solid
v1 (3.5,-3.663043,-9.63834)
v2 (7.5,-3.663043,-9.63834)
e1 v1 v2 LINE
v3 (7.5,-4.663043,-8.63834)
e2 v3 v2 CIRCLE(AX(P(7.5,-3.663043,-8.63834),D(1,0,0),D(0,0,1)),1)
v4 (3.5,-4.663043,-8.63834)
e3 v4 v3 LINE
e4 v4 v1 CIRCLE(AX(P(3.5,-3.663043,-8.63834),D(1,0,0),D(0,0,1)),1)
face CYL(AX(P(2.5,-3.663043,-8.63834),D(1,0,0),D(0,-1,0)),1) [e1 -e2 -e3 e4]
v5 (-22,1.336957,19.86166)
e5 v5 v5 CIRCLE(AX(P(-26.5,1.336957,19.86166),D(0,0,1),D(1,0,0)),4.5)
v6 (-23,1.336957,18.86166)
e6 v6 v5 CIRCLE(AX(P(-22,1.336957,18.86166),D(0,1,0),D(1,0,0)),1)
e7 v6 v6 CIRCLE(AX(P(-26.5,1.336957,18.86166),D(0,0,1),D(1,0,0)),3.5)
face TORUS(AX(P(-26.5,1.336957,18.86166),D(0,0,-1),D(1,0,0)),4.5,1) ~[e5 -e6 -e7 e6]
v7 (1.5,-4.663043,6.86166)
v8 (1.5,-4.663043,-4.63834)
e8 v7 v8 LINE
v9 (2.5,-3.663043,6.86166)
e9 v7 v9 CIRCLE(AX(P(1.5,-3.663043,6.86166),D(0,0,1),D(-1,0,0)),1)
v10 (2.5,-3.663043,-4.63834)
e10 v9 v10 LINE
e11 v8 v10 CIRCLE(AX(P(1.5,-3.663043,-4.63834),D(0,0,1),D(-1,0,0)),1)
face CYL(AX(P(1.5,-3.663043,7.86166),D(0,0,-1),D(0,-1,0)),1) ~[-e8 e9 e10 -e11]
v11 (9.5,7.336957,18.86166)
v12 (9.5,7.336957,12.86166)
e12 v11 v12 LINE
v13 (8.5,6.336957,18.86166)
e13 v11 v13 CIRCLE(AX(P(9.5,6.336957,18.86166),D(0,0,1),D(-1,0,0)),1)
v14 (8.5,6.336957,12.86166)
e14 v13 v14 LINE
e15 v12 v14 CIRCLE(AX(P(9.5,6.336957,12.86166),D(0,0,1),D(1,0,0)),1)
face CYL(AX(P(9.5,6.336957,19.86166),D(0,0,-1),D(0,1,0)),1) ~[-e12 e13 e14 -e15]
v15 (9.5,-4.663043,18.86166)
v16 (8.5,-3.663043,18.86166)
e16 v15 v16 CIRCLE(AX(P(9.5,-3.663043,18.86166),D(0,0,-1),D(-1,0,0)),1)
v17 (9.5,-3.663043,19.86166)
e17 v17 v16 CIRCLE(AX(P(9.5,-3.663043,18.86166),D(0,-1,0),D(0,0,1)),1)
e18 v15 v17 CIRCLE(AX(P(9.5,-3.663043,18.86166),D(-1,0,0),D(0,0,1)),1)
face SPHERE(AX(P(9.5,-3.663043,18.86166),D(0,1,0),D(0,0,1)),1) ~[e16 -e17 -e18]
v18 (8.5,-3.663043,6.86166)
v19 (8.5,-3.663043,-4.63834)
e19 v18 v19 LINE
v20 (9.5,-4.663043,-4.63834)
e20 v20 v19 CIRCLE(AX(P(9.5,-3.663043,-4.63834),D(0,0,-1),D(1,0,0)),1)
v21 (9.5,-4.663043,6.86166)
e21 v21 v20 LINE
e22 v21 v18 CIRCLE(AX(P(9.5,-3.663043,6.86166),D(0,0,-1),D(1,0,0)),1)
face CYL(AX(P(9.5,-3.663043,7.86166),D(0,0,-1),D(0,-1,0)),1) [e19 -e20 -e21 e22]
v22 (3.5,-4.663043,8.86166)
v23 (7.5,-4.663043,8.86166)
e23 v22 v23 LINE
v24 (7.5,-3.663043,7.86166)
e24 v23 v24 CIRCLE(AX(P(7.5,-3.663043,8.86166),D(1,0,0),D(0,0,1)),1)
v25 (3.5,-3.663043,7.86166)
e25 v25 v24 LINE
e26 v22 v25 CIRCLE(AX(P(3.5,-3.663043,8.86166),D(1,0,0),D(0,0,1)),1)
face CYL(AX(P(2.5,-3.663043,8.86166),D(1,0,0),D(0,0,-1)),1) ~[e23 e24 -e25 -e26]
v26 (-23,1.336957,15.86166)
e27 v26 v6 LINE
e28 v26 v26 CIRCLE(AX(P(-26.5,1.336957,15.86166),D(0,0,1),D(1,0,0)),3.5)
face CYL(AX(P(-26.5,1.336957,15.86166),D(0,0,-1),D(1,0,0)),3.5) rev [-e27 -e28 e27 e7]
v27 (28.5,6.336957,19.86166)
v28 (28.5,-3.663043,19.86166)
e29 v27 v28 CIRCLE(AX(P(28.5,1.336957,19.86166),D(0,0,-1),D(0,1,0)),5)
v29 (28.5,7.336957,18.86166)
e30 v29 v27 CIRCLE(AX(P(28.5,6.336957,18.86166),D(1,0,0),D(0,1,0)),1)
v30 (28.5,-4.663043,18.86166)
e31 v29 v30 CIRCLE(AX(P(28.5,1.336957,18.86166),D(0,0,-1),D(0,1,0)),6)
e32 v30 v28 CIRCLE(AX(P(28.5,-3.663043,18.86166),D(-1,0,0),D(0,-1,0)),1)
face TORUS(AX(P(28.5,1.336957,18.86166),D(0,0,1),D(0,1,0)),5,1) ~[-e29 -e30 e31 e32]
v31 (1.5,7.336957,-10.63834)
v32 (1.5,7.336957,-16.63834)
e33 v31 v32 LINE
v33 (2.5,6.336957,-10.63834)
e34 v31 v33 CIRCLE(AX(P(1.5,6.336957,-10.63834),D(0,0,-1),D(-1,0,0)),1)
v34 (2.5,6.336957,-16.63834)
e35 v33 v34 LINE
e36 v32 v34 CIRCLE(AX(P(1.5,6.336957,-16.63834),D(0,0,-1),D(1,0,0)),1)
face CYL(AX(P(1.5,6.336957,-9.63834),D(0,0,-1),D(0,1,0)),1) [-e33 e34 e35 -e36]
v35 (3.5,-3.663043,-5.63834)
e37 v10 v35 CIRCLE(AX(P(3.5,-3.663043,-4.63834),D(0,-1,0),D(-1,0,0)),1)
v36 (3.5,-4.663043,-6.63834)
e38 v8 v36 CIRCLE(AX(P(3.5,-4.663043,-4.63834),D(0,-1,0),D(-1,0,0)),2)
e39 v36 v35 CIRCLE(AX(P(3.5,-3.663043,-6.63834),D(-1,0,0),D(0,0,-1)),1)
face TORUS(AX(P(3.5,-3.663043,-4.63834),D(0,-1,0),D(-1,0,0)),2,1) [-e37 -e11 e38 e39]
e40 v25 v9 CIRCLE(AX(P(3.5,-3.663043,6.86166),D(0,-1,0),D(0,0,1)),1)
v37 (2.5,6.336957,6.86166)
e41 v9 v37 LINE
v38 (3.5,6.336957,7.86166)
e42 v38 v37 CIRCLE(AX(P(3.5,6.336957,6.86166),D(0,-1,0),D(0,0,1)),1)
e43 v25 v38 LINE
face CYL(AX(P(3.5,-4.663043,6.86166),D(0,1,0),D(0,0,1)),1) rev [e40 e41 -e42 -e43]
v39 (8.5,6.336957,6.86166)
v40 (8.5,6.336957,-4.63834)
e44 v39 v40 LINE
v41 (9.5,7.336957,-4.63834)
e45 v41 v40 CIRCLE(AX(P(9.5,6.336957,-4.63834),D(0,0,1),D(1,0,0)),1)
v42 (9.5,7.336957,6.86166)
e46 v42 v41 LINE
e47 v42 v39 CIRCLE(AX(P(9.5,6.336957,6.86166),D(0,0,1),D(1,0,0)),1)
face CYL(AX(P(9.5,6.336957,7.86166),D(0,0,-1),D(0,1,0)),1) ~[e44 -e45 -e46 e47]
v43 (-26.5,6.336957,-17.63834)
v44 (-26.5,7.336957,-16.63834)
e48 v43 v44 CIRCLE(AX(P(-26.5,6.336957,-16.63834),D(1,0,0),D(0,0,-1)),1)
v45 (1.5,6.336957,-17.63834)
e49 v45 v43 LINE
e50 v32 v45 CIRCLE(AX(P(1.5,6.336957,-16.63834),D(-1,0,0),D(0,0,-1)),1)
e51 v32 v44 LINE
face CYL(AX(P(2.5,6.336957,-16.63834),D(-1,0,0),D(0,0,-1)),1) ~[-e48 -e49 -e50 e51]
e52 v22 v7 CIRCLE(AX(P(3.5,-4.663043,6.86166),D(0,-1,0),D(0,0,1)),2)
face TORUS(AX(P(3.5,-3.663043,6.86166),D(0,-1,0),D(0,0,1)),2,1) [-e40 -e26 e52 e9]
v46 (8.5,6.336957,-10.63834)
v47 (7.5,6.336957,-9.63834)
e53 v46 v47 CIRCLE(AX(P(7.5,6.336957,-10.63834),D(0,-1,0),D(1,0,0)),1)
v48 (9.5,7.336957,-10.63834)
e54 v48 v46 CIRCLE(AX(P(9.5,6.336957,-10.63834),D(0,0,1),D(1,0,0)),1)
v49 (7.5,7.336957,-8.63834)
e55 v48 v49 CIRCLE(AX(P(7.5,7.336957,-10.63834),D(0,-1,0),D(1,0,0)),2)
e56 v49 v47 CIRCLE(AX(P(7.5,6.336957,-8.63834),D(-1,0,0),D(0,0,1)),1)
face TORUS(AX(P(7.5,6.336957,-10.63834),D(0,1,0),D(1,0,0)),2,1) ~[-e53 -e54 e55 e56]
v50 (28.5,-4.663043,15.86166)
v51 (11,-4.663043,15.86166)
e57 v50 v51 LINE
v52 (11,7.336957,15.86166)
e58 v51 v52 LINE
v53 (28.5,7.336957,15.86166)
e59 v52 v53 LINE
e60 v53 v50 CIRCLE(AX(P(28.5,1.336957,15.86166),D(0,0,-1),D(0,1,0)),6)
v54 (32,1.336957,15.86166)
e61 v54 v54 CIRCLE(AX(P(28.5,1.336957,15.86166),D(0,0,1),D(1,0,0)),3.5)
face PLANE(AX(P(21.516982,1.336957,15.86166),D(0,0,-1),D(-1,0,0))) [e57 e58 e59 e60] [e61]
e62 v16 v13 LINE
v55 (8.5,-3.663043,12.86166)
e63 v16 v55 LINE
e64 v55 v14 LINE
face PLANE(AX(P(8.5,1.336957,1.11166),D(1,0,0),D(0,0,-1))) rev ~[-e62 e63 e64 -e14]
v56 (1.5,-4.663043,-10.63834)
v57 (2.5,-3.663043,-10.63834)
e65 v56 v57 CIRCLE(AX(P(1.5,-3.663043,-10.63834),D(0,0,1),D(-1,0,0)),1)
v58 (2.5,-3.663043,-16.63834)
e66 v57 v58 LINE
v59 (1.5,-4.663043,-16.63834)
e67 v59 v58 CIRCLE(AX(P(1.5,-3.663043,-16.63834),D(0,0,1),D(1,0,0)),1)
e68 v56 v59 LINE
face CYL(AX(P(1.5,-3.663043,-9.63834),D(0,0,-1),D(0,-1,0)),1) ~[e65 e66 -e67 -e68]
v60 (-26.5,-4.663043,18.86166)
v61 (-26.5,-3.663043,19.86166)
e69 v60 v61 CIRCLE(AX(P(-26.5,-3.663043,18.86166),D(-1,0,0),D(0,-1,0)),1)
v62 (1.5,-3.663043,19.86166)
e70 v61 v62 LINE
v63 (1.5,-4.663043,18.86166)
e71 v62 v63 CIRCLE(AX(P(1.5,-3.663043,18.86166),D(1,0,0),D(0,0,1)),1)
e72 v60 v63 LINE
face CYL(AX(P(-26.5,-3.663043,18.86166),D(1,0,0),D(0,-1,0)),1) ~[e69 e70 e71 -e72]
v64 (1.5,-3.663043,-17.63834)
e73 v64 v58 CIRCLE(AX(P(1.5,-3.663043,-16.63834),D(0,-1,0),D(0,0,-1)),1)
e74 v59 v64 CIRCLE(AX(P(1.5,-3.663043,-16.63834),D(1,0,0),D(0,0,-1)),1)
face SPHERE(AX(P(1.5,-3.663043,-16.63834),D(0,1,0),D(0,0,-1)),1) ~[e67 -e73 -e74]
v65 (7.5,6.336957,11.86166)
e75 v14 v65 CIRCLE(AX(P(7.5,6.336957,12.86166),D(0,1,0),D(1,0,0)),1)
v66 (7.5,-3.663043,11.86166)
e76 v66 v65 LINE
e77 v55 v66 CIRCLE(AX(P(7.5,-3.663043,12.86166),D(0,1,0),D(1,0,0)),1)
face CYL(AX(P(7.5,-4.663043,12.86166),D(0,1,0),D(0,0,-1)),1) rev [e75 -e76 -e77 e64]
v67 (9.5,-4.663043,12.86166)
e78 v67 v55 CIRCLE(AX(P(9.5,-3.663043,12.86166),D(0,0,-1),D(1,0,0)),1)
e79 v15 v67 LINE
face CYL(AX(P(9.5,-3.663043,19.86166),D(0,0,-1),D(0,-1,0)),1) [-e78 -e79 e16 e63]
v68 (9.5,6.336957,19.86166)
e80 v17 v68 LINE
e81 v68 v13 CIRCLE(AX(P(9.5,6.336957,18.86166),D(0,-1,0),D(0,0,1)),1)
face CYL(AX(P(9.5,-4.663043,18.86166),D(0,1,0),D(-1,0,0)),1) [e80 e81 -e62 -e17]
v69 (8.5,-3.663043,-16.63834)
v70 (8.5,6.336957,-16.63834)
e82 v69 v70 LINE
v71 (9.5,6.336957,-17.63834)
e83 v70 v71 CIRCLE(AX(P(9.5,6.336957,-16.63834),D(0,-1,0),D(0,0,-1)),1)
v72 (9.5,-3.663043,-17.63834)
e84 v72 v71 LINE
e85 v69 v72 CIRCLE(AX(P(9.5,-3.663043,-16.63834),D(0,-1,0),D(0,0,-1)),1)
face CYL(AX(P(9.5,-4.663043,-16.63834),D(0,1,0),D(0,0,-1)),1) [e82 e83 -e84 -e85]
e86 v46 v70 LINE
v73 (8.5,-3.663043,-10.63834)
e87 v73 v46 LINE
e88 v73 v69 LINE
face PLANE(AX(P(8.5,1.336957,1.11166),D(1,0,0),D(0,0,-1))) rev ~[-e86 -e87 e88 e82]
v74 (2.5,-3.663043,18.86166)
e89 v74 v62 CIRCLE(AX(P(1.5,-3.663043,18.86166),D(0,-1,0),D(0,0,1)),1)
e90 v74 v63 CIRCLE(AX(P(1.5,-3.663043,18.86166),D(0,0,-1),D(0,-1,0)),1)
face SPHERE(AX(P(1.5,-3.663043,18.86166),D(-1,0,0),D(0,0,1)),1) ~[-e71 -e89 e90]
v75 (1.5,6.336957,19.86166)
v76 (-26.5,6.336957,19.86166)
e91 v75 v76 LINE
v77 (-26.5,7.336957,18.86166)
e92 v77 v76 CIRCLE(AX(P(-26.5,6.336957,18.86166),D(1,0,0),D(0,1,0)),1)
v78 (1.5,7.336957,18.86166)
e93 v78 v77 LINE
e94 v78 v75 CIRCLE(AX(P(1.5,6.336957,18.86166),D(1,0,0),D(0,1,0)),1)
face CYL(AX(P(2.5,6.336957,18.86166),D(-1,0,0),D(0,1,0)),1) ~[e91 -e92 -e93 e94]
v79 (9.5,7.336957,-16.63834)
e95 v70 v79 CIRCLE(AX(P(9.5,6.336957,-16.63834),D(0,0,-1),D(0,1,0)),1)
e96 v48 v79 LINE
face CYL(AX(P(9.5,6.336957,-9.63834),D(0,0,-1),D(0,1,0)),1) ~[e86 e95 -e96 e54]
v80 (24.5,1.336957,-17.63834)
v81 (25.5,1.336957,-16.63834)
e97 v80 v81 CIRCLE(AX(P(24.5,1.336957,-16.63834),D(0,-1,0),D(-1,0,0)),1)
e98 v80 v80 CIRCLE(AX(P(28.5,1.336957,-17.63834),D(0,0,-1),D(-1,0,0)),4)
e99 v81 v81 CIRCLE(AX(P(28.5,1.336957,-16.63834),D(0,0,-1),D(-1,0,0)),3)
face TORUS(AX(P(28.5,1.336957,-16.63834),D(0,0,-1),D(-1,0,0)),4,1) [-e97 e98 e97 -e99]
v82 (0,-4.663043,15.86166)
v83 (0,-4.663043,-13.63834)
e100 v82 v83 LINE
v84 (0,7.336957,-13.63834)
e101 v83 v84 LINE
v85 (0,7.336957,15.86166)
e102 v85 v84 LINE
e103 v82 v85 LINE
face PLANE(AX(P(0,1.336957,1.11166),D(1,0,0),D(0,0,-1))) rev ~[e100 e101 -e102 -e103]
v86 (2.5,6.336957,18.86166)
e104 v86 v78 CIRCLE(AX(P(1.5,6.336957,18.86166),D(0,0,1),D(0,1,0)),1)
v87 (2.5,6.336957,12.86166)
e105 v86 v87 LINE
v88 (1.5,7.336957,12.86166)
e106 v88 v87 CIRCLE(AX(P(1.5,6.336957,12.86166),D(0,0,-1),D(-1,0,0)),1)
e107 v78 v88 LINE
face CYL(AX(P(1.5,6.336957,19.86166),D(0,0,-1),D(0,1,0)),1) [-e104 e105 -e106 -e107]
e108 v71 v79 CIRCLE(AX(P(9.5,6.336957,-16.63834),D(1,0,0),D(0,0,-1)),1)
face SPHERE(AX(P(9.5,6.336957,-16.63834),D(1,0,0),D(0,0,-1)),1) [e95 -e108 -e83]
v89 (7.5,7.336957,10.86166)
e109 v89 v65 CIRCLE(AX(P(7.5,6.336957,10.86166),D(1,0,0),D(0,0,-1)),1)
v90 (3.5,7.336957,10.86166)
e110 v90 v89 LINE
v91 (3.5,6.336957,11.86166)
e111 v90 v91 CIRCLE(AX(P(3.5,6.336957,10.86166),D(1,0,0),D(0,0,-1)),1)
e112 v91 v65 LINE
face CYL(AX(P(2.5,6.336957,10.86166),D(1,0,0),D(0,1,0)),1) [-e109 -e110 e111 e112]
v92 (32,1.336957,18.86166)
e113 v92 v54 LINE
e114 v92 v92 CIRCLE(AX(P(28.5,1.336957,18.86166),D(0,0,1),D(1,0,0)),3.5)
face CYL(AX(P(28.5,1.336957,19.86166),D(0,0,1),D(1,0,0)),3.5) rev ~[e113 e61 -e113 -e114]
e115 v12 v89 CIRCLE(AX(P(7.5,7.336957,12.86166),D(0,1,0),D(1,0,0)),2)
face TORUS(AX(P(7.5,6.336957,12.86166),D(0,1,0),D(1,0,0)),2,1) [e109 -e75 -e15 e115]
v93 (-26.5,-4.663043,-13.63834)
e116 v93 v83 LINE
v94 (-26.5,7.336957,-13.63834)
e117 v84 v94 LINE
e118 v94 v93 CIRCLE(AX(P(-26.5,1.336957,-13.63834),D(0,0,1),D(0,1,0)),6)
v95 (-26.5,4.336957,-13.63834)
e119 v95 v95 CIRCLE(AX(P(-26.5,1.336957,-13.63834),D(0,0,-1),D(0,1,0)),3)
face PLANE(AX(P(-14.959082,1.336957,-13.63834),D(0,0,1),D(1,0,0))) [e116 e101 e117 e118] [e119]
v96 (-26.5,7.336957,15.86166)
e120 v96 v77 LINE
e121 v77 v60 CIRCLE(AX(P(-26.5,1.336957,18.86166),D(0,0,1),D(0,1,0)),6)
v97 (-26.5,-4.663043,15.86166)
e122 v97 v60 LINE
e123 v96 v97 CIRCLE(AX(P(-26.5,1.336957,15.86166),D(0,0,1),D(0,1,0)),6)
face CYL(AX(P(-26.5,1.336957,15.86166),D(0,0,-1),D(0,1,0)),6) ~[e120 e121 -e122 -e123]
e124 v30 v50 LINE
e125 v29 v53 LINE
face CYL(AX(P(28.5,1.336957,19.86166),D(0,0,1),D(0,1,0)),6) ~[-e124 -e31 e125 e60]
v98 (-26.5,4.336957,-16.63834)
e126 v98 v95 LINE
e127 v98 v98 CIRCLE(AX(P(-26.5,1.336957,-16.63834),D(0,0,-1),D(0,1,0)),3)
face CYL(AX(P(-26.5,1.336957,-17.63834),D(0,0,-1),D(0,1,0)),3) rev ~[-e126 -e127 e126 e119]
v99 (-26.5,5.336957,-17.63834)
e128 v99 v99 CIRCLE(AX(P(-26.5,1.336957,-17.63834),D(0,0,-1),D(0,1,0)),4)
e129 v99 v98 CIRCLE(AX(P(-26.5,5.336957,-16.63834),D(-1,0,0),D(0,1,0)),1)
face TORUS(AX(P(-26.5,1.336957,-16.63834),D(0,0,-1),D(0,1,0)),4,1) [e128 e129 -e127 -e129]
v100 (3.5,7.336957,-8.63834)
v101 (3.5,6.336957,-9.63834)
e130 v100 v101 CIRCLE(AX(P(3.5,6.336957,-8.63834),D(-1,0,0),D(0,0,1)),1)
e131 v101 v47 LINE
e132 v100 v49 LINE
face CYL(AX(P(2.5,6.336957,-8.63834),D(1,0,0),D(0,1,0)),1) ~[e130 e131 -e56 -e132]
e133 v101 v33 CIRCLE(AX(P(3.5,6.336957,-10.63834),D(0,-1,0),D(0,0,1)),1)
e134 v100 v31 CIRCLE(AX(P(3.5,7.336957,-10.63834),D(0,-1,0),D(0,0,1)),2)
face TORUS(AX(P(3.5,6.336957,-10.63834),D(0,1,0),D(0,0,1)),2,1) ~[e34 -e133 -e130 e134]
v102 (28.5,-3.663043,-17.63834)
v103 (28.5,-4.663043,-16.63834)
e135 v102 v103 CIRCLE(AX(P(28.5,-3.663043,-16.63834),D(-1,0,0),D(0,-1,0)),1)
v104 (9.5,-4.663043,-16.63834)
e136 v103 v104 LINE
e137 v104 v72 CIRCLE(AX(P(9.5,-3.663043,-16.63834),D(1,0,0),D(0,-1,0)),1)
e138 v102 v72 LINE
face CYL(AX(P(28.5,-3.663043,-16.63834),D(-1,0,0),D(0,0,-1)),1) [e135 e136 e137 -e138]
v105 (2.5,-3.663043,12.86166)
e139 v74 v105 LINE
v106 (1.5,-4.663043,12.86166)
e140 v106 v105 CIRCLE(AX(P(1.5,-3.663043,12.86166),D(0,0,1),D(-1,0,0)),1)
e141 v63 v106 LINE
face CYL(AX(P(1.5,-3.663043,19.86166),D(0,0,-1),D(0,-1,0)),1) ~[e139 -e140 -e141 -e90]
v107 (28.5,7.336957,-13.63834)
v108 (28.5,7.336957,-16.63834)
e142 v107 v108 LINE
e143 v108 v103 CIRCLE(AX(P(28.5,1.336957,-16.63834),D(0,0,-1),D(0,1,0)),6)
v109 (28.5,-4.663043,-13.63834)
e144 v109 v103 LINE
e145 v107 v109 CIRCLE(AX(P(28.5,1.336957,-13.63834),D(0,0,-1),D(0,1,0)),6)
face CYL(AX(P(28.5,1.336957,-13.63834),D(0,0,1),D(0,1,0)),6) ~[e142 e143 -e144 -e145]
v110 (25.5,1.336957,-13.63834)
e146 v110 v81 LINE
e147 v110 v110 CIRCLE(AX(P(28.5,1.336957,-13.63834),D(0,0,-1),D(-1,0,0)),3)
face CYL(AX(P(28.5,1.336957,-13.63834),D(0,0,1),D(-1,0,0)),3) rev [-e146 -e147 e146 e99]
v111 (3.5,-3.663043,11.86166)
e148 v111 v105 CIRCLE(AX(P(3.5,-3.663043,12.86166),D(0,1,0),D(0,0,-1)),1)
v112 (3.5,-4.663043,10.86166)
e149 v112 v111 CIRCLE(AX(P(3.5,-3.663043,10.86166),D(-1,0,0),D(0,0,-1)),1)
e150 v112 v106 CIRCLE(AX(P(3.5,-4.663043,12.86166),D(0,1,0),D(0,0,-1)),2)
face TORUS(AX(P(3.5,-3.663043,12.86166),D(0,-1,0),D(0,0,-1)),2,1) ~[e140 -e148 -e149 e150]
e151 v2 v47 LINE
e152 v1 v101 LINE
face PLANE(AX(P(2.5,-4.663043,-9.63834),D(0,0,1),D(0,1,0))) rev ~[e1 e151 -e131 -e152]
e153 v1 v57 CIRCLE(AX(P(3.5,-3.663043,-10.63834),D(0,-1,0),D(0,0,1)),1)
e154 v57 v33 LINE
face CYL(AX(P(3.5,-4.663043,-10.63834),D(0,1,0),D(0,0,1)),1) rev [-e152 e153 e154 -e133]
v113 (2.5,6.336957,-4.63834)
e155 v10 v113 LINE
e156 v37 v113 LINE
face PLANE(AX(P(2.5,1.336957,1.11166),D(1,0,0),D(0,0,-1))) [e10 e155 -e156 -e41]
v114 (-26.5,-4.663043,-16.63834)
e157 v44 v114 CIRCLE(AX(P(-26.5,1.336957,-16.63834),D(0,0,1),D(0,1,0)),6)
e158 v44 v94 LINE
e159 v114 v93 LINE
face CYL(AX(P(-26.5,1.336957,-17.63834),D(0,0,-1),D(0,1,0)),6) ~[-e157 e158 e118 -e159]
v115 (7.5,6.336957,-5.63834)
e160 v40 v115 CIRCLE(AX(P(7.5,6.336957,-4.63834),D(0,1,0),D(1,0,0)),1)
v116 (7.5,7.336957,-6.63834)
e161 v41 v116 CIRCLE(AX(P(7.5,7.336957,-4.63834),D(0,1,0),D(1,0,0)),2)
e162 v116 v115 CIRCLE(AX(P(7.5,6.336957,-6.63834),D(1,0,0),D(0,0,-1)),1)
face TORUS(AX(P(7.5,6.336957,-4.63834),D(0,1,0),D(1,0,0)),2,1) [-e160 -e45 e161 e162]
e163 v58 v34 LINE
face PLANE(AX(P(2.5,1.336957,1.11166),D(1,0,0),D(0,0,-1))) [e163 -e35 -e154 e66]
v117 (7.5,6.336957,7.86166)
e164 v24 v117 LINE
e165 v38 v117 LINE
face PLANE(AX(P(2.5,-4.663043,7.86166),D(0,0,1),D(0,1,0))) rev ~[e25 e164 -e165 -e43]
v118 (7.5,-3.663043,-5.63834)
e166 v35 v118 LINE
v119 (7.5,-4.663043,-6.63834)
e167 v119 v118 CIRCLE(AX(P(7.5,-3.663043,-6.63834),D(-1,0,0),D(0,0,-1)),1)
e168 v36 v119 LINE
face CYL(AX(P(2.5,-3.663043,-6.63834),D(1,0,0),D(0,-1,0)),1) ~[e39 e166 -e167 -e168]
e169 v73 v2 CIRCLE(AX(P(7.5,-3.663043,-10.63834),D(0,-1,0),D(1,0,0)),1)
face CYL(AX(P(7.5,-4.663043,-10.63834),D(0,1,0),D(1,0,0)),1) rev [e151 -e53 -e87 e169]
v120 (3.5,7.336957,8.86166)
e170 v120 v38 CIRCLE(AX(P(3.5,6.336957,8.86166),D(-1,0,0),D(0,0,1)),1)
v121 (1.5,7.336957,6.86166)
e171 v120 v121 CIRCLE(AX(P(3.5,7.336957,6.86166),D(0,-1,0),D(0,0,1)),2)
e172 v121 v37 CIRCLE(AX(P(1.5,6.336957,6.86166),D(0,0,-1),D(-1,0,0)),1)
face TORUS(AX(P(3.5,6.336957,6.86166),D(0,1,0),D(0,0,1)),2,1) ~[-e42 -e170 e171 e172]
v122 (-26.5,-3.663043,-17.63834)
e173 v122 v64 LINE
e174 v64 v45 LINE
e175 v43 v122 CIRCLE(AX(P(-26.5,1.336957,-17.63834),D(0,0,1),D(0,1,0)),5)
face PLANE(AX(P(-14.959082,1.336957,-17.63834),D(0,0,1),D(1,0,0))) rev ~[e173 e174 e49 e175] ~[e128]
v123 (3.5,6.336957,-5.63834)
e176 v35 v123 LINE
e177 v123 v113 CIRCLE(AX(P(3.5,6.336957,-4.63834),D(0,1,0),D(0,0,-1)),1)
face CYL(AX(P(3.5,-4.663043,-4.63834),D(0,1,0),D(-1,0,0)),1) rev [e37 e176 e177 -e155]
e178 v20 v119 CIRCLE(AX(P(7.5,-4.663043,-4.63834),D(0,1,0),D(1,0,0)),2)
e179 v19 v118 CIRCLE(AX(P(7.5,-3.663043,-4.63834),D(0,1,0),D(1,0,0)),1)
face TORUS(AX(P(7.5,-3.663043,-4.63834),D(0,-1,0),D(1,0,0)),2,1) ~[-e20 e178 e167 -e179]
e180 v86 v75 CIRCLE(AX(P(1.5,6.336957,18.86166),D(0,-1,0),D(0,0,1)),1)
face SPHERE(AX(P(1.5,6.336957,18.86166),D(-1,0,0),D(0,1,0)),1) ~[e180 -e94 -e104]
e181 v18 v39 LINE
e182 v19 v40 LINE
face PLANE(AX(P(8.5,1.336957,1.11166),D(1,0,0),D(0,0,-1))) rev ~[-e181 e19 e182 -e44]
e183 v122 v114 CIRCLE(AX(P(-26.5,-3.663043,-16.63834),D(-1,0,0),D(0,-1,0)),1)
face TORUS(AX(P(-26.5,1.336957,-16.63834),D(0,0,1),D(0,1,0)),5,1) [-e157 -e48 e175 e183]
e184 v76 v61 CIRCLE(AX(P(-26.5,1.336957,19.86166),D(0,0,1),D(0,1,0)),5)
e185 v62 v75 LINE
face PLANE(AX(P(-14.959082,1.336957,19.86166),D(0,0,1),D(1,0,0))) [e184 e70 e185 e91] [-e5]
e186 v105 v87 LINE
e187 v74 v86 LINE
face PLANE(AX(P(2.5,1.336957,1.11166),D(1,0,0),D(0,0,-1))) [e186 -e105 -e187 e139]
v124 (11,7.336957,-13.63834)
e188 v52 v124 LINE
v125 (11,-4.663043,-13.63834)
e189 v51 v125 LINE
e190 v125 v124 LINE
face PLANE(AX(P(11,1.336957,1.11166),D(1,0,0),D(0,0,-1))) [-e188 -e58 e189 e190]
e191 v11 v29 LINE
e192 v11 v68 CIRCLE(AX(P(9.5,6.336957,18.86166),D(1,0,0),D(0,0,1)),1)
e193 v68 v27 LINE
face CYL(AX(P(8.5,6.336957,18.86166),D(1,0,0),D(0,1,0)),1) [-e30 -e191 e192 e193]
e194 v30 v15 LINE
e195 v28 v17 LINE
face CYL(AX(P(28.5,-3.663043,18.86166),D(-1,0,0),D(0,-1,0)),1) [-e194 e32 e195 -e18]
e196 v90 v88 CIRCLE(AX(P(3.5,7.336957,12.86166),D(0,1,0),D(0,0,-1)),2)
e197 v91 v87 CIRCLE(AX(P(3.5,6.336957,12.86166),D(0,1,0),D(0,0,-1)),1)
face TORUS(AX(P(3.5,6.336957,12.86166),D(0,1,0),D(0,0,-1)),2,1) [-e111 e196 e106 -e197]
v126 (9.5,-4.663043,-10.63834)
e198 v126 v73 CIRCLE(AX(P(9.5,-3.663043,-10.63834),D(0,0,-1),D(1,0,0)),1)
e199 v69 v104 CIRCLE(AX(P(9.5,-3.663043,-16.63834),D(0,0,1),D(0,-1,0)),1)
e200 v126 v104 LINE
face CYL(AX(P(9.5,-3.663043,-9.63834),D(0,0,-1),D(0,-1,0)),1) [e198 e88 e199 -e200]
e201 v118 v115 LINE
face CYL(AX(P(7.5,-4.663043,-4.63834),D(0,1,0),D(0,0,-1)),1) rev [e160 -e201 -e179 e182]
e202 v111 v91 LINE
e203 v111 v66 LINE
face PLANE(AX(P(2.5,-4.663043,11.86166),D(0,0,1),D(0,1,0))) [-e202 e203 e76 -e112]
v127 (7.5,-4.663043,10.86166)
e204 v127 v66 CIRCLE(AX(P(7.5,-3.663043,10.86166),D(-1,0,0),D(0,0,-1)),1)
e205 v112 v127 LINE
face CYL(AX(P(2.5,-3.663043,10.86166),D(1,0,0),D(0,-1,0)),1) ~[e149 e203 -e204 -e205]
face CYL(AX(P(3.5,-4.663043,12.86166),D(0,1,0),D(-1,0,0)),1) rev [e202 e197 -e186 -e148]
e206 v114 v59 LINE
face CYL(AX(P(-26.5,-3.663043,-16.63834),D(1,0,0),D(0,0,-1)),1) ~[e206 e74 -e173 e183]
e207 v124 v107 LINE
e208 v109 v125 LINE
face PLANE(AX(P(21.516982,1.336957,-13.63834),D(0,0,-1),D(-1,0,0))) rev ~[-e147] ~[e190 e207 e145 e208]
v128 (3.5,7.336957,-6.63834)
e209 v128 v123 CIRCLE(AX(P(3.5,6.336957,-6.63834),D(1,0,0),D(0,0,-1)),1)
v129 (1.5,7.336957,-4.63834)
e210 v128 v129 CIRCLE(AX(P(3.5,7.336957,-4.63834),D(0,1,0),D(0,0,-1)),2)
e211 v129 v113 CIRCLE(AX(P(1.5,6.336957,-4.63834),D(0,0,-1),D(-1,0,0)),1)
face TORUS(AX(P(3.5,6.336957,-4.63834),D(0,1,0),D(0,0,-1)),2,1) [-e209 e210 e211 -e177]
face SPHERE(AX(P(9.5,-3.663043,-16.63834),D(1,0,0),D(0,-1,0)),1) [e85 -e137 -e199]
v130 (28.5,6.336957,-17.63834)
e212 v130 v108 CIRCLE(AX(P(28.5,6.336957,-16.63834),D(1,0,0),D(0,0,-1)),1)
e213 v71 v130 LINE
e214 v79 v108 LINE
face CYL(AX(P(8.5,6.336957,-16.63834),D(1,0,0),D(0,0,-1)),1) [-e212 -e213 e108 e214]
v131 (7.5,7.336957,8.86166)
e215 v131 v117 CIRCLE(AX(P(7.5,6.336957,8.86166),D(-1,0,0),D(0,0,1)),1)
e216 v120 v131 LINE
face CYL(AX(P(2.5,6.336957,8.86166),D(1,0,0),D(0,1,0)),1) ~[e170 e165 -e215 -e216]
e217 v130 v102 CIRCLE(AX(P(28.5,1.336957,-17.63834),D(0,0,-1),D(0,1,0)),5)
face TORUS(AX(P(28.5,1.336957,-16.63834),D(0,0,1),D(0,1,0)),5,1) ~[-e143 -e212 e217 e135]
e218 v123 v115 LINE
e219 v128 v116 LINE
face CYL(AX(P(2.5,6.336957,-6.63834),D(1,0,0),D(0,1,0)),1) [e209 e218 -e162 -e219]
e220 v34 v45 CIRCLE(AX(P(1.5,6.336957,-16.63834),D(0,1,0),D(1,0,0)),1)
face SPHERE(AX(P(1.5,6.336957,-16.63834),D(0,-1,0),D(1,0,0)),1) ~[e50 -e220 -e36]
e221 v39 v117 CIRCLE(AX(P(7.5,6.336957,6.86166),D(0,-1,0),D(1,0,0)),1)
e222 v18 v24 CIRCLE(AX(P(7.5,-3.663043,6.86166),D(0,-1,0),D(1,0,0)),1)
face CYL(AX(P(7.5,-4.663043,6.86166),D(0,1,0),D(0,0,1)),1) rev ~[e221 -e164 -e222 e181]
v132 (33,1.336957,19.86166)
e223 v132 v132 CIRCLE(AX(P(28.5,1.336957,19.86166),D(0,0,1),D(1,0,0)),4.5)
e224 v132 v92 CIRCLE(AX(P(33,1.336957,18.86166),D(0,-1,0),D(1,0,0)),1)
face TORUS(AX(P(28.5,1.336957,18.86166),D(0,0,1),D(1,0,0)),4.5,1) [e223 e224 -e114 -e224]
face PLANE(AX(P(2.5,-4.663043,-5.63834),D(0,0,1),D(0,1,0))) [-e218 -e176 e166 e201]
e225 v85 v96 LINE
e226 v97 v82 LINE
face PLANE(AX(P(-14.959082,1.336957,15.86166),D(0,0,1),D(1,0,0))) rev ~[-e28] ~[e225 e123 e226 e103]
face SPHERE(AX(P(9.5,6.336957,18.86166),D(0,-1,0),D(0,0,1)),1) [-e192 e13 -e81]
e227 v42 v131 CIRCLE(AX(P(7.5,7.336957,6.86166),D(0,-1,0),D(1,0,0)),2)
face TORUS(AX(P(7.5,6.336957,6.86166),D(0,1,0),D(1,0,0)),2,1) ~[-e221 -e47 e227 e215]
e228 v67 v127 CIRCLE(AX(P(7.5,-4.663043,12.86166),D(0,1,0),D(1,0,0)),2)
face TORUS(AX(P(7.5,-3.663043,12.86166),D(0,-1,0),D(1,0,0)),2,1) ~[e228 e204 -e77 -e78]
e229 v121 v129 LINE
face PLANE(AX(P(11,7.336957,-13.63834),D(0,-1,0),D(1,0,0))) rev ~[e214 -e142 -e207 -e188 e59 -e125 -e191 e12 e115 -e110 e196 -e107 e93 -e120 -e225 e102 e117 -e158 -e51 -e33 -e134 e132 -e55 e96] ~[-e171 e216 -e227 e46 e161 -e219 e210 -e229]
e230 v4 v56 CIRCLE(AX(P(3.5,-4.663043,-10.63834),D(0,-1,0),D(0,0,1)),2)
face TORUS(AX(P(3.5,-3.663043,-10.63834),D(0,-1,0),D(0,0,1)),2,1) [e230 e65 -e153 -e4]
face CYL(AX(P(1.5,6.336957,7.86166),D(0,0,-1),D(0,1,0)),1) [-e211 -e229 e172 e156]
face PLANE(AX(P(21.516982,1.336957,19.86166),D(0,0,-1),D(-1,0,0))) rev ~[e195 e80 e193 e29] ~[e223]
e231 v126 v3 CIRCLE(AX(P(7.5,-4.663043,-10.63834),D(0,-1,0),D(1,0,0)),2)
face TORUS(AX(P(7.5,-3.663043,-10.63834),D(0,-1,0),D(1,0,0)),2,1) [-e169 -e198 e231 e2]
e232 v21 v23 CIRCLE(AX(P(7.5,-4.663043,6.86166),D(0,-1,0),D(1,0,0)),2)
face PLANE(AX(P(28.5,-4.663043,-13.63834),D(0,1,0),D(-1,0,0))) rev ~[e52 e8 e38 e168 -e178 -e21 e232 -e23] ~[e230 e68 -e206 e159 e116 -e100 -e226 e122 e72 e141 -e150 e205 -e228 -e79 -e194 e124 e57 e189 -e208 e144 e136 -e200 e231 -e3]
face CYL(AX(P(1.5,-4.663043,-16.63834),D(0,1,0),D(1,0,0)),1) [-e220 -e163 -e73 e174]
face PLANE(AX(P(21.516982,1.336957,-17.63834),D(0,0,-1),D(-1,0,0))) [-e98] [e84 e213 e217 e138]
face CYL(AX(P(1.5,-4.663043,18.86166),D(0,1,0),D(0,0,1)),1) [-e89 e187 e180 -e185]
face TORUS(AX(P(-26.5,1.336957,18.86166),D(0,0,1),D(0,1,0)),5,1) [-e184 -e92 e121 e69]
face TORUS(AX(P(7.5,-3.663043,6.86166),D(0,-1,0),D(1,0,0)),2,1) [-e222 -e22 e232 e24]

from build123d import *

# Parameters (mm, degrees)
SKETCH1_W           = 37.5
SKETCH1_H           = 12
BOSS_EXTRUDE1_DEPTH = 2.5
SKETCH3_R           = 3
BOSS_EXTRUDE2_DEPTH = 4
BOSS_EXTRUDE3_START = -4
SKETCH4_R           = 3.5
BOSS_EXTRUDE3_DEPTH = 4
SKETCH5_W           = 4
SKETCH5_H           = 12
BOSS_EXTRUDE4_DEPTH = 6
SKETCH6_W           = 37.5
SKETCH6_H           = 12
BOSS_EXTRUDE5_DEPTH = 2.5
SKETCH8_R           = 3.5
BOSS_EXTRUDE6_DEPTH = 4
BOSS_EXTRUDE7_START = -4
SKETCH9_R           = 3
BOSS_EXTRUDE7_DEPTH = 4
FILLET1_R           = 1


with BuildPart() as part:
    # Sketch1 → Boss-Extrude1 (new body)
    with BuildSketch(Plane(origin=(0, 0, 0), x_dir=(0, 0, -1), z_dir=(1, 0, 0))):
        with Locations((-1.111660079, 1.336956522)):
            Rectangle(SKETCH1_W, SKETCH1_H)
    extrude(amount=BOSS_EXTRUDE1_DEPTH)

    # Sketch3 → Boss-Extrude2 (add)
    with BuildSketch(Plane(origin=(0, 0, -17.638339921), x_dir=(-1, 0, 0), z_dir=(0, 0, -1))):
        with BuildLine():
            Line((0, 7.336956522), (26.5, 7.336956522))
            ThreePointArc((26.5, 7.336956522), (32.5, 1.336956522), (26.5, -4.663043478))
            Line((26.5, -4.663043478), (0, -4.663043478))
            Line((0, -4.663043478), (0, 7.336956522))
        make_face()
        with Locations(Location((26.5, 1.336956522, 0), (0, 0, 90))):
            Circle(SKETCH3_R, mode=Mode.SUBTRACT)
    extrude(amount=-BOSS_EXTRUDE2_DEPTH)

    # Sketch4 → Boss-Extrude3 (add)
    with BuildSketch(Plane.XY.offset(19.861660079).offset(BOSS_EXTRUDE3_START)):
        with BuildLine():
            Line((0, 7.336956522), (-26.5, 7.336956522))
            ThreePointArc((-26.5, 7.336956522), (-32.5, 1.336956522), (-26.5, -4.663043478))
            Line((-26.5, -4.663043478), (0, -4.663043478))
            Line((0, -4.663043478), (0, 7.336956522))
        make_face()
        with Locations((-26.5, 1.336956522)):
            Circle(SKETCH4_R, mode=Mode.SUBTRACT)
    extrude(amount=BOSS_EXTRUDE3_DEPTH)

    # Sketch5 → Boss-Extrude4 (add)
    with BuildSketch(Plane(origin=(2.5, 0, 0), x_dir=(0, 0, -1), z_dir=(1, 0, 0))):
        with Locations((-9.861660079, 1.336956522)):
            Rectangle(SKETCH5_W, SKETCH5_H)
        with Locations((7.638339921, 1.336956522)):
            Rectangle(SKETCH5_W, SKETCH5_H)
    extrude(amount=BOSS_EXTRUDE4_DEPTH)

    # Sketch6 → Boss-Extrude5 (add)
    with BuildSketch(Plane(origin=(8.5, 0, 0), x_dir=(0, 0, -1), z_dir=(1, 0, 0))):
        with Locations((-1.111660079, 1.336956522)):
            Rectangle(SKETCH6_W, SKETCH6_H)
    extrude(amount=BOSS_EXTRUDE5_DEPTH)

    # Sketch8 → Boss-Extrude6 (add)
    with BuildSketch(Plane.XY.offset(19.861660079)):
        with BuildLine():
            Line((11, 7.336956522), (28.5, 7.336956522))
            ThreePointArc((28.5, 7.336956522), (34.5, 1.336956522), (28.5, -4.663043478))
            Line((28.5, -4.663043478), (11, -4.663043478))
            Line((11, -4.663043478), (11, 7.336956522))
        make_face()
        with Locations((28.5, 1.336956522)):
            Circle(SKETCH8_R, mode=Mode.SUBTRACT)
    extrude(amount=-BOSS_EXTRUDE6_DEPTH)

    # Sketch9 → Boss-Extrude7 (add)
    with BuildSketch(Plane(origin=(0, 0, -17.638339921), x_dir=(-1, 0, 0), z_dir=(0, 0, -1)).offset(BOSS_EXTRUDE7_START)):
        with BuildLine():
            Line((-11, 7.336956522), (-28.5, 7.336956522))
            ThreePointArc((-28.5, 7.336956522), (-34.5, 1.336956522), (-28.5, -4.663043478))
            Line((-28.5, -4.663043478), (-11, -4.663043478))
            Line((-11, -4.663043478), (-11, 7.336956522))
        make_face()
        with Locations((-28.5, 1.336956522)):
            Circle(SKETCH9_R, mode=Mode.SUBTRACT)
    extrude(amount=BOSS_EXTRUDE7_DEPTH)

    # Fillet1
    fillet1_edges = [part.edges().sort_by_distance(p)[0] for p in [
        (34.5, 1.336956522, -17.638339921),
        (31.5, 1.336956522, -17.638339921),
        (2.5, 1.336956522, -17.638339921),
        (2.5, 7.336956522, -13.638339921),
        (-32.5, 1.336956522, -17.638339921),
        (-26.5, -1.663043478, -17.638339921),
        (-32.5, 1.336956522, 19.861660079),
        (-30, 1.336956522, 19.861660079),
        (2.5, -4.663043478, 1.111660079),
        (2.5, 7.336956522, 15.861660079),
        (2.5, 1.336956522, 11.861660079),
        (5.5, 7.336956522, 11.861660079),
        (5.5, -4.663043478, 11.861660079),
        (2.5, 1.336956522, 7.861660079),
        (5.5, -4.663043478, 7.861660079),
        (5.5, 7.336956522, 7.861660079),
        (8.5, 1.336956522, 11.861660079),
        (8.5, 1.336956522, 7.861660079),
        (2.5, 1.336956522, 19.861660079),
        (2.5, -4.663043478, -13.638339921),
        (2.5, 7.336956522, 1.111660079),
        (5.5, -4.663043478, -5.638339921),
        (2.5, 1.336956522, -9.638339921),
        (5.5, -4.663043478, -9.638339921),
        (5.5, 7.336956522, -9.638339921),
        (2.5, 1.336956522, -5.638339921),
        (5.5, 7.336956522, -5.638339921),
        (8.5, 1.336956522, -9.638339921),
        (8.5, 1.336956522, -5.638339921),
        (8.5, 1.336956522, 19.861660079),
        (18.5, 7.336956522, 19.861660079),
        (8.5, -4.663043478, 15.861660079),
        (8.5, -4.663043478, 1.111660079),
        (8.5, -4.663043478, -13.638339921),
        (18.5, -4.663043478, 19.861660079),
        (8.5, 1.336956522, -17.638339921),
        (18.5, -4.663043478, -17.638339921),
        (8.5, 7.336956522, -13.638339921),
        (8.5, 7.336956522, 1.111660079),
        (8.5, 7.336956522, 15.861660079),
        (18.5, 7.336956522, -17.638339921),
        (-12, 7.336956522, 19.861660079),
        (-12, 7.336956522, -17.638339921),
        (-12, -4.663043478, -17.638339921),
        (-12, -4.663043478, 19.861660079),
        (2.5, -4.663043478, 15.861660079),
        (34.5, 1.336956522, 19.861660079),
        (25, 1.336956522, 19.861660079),
    ]]
    fillet(fillet1_edges, radius=FILLET1_R)


solid = part.part
